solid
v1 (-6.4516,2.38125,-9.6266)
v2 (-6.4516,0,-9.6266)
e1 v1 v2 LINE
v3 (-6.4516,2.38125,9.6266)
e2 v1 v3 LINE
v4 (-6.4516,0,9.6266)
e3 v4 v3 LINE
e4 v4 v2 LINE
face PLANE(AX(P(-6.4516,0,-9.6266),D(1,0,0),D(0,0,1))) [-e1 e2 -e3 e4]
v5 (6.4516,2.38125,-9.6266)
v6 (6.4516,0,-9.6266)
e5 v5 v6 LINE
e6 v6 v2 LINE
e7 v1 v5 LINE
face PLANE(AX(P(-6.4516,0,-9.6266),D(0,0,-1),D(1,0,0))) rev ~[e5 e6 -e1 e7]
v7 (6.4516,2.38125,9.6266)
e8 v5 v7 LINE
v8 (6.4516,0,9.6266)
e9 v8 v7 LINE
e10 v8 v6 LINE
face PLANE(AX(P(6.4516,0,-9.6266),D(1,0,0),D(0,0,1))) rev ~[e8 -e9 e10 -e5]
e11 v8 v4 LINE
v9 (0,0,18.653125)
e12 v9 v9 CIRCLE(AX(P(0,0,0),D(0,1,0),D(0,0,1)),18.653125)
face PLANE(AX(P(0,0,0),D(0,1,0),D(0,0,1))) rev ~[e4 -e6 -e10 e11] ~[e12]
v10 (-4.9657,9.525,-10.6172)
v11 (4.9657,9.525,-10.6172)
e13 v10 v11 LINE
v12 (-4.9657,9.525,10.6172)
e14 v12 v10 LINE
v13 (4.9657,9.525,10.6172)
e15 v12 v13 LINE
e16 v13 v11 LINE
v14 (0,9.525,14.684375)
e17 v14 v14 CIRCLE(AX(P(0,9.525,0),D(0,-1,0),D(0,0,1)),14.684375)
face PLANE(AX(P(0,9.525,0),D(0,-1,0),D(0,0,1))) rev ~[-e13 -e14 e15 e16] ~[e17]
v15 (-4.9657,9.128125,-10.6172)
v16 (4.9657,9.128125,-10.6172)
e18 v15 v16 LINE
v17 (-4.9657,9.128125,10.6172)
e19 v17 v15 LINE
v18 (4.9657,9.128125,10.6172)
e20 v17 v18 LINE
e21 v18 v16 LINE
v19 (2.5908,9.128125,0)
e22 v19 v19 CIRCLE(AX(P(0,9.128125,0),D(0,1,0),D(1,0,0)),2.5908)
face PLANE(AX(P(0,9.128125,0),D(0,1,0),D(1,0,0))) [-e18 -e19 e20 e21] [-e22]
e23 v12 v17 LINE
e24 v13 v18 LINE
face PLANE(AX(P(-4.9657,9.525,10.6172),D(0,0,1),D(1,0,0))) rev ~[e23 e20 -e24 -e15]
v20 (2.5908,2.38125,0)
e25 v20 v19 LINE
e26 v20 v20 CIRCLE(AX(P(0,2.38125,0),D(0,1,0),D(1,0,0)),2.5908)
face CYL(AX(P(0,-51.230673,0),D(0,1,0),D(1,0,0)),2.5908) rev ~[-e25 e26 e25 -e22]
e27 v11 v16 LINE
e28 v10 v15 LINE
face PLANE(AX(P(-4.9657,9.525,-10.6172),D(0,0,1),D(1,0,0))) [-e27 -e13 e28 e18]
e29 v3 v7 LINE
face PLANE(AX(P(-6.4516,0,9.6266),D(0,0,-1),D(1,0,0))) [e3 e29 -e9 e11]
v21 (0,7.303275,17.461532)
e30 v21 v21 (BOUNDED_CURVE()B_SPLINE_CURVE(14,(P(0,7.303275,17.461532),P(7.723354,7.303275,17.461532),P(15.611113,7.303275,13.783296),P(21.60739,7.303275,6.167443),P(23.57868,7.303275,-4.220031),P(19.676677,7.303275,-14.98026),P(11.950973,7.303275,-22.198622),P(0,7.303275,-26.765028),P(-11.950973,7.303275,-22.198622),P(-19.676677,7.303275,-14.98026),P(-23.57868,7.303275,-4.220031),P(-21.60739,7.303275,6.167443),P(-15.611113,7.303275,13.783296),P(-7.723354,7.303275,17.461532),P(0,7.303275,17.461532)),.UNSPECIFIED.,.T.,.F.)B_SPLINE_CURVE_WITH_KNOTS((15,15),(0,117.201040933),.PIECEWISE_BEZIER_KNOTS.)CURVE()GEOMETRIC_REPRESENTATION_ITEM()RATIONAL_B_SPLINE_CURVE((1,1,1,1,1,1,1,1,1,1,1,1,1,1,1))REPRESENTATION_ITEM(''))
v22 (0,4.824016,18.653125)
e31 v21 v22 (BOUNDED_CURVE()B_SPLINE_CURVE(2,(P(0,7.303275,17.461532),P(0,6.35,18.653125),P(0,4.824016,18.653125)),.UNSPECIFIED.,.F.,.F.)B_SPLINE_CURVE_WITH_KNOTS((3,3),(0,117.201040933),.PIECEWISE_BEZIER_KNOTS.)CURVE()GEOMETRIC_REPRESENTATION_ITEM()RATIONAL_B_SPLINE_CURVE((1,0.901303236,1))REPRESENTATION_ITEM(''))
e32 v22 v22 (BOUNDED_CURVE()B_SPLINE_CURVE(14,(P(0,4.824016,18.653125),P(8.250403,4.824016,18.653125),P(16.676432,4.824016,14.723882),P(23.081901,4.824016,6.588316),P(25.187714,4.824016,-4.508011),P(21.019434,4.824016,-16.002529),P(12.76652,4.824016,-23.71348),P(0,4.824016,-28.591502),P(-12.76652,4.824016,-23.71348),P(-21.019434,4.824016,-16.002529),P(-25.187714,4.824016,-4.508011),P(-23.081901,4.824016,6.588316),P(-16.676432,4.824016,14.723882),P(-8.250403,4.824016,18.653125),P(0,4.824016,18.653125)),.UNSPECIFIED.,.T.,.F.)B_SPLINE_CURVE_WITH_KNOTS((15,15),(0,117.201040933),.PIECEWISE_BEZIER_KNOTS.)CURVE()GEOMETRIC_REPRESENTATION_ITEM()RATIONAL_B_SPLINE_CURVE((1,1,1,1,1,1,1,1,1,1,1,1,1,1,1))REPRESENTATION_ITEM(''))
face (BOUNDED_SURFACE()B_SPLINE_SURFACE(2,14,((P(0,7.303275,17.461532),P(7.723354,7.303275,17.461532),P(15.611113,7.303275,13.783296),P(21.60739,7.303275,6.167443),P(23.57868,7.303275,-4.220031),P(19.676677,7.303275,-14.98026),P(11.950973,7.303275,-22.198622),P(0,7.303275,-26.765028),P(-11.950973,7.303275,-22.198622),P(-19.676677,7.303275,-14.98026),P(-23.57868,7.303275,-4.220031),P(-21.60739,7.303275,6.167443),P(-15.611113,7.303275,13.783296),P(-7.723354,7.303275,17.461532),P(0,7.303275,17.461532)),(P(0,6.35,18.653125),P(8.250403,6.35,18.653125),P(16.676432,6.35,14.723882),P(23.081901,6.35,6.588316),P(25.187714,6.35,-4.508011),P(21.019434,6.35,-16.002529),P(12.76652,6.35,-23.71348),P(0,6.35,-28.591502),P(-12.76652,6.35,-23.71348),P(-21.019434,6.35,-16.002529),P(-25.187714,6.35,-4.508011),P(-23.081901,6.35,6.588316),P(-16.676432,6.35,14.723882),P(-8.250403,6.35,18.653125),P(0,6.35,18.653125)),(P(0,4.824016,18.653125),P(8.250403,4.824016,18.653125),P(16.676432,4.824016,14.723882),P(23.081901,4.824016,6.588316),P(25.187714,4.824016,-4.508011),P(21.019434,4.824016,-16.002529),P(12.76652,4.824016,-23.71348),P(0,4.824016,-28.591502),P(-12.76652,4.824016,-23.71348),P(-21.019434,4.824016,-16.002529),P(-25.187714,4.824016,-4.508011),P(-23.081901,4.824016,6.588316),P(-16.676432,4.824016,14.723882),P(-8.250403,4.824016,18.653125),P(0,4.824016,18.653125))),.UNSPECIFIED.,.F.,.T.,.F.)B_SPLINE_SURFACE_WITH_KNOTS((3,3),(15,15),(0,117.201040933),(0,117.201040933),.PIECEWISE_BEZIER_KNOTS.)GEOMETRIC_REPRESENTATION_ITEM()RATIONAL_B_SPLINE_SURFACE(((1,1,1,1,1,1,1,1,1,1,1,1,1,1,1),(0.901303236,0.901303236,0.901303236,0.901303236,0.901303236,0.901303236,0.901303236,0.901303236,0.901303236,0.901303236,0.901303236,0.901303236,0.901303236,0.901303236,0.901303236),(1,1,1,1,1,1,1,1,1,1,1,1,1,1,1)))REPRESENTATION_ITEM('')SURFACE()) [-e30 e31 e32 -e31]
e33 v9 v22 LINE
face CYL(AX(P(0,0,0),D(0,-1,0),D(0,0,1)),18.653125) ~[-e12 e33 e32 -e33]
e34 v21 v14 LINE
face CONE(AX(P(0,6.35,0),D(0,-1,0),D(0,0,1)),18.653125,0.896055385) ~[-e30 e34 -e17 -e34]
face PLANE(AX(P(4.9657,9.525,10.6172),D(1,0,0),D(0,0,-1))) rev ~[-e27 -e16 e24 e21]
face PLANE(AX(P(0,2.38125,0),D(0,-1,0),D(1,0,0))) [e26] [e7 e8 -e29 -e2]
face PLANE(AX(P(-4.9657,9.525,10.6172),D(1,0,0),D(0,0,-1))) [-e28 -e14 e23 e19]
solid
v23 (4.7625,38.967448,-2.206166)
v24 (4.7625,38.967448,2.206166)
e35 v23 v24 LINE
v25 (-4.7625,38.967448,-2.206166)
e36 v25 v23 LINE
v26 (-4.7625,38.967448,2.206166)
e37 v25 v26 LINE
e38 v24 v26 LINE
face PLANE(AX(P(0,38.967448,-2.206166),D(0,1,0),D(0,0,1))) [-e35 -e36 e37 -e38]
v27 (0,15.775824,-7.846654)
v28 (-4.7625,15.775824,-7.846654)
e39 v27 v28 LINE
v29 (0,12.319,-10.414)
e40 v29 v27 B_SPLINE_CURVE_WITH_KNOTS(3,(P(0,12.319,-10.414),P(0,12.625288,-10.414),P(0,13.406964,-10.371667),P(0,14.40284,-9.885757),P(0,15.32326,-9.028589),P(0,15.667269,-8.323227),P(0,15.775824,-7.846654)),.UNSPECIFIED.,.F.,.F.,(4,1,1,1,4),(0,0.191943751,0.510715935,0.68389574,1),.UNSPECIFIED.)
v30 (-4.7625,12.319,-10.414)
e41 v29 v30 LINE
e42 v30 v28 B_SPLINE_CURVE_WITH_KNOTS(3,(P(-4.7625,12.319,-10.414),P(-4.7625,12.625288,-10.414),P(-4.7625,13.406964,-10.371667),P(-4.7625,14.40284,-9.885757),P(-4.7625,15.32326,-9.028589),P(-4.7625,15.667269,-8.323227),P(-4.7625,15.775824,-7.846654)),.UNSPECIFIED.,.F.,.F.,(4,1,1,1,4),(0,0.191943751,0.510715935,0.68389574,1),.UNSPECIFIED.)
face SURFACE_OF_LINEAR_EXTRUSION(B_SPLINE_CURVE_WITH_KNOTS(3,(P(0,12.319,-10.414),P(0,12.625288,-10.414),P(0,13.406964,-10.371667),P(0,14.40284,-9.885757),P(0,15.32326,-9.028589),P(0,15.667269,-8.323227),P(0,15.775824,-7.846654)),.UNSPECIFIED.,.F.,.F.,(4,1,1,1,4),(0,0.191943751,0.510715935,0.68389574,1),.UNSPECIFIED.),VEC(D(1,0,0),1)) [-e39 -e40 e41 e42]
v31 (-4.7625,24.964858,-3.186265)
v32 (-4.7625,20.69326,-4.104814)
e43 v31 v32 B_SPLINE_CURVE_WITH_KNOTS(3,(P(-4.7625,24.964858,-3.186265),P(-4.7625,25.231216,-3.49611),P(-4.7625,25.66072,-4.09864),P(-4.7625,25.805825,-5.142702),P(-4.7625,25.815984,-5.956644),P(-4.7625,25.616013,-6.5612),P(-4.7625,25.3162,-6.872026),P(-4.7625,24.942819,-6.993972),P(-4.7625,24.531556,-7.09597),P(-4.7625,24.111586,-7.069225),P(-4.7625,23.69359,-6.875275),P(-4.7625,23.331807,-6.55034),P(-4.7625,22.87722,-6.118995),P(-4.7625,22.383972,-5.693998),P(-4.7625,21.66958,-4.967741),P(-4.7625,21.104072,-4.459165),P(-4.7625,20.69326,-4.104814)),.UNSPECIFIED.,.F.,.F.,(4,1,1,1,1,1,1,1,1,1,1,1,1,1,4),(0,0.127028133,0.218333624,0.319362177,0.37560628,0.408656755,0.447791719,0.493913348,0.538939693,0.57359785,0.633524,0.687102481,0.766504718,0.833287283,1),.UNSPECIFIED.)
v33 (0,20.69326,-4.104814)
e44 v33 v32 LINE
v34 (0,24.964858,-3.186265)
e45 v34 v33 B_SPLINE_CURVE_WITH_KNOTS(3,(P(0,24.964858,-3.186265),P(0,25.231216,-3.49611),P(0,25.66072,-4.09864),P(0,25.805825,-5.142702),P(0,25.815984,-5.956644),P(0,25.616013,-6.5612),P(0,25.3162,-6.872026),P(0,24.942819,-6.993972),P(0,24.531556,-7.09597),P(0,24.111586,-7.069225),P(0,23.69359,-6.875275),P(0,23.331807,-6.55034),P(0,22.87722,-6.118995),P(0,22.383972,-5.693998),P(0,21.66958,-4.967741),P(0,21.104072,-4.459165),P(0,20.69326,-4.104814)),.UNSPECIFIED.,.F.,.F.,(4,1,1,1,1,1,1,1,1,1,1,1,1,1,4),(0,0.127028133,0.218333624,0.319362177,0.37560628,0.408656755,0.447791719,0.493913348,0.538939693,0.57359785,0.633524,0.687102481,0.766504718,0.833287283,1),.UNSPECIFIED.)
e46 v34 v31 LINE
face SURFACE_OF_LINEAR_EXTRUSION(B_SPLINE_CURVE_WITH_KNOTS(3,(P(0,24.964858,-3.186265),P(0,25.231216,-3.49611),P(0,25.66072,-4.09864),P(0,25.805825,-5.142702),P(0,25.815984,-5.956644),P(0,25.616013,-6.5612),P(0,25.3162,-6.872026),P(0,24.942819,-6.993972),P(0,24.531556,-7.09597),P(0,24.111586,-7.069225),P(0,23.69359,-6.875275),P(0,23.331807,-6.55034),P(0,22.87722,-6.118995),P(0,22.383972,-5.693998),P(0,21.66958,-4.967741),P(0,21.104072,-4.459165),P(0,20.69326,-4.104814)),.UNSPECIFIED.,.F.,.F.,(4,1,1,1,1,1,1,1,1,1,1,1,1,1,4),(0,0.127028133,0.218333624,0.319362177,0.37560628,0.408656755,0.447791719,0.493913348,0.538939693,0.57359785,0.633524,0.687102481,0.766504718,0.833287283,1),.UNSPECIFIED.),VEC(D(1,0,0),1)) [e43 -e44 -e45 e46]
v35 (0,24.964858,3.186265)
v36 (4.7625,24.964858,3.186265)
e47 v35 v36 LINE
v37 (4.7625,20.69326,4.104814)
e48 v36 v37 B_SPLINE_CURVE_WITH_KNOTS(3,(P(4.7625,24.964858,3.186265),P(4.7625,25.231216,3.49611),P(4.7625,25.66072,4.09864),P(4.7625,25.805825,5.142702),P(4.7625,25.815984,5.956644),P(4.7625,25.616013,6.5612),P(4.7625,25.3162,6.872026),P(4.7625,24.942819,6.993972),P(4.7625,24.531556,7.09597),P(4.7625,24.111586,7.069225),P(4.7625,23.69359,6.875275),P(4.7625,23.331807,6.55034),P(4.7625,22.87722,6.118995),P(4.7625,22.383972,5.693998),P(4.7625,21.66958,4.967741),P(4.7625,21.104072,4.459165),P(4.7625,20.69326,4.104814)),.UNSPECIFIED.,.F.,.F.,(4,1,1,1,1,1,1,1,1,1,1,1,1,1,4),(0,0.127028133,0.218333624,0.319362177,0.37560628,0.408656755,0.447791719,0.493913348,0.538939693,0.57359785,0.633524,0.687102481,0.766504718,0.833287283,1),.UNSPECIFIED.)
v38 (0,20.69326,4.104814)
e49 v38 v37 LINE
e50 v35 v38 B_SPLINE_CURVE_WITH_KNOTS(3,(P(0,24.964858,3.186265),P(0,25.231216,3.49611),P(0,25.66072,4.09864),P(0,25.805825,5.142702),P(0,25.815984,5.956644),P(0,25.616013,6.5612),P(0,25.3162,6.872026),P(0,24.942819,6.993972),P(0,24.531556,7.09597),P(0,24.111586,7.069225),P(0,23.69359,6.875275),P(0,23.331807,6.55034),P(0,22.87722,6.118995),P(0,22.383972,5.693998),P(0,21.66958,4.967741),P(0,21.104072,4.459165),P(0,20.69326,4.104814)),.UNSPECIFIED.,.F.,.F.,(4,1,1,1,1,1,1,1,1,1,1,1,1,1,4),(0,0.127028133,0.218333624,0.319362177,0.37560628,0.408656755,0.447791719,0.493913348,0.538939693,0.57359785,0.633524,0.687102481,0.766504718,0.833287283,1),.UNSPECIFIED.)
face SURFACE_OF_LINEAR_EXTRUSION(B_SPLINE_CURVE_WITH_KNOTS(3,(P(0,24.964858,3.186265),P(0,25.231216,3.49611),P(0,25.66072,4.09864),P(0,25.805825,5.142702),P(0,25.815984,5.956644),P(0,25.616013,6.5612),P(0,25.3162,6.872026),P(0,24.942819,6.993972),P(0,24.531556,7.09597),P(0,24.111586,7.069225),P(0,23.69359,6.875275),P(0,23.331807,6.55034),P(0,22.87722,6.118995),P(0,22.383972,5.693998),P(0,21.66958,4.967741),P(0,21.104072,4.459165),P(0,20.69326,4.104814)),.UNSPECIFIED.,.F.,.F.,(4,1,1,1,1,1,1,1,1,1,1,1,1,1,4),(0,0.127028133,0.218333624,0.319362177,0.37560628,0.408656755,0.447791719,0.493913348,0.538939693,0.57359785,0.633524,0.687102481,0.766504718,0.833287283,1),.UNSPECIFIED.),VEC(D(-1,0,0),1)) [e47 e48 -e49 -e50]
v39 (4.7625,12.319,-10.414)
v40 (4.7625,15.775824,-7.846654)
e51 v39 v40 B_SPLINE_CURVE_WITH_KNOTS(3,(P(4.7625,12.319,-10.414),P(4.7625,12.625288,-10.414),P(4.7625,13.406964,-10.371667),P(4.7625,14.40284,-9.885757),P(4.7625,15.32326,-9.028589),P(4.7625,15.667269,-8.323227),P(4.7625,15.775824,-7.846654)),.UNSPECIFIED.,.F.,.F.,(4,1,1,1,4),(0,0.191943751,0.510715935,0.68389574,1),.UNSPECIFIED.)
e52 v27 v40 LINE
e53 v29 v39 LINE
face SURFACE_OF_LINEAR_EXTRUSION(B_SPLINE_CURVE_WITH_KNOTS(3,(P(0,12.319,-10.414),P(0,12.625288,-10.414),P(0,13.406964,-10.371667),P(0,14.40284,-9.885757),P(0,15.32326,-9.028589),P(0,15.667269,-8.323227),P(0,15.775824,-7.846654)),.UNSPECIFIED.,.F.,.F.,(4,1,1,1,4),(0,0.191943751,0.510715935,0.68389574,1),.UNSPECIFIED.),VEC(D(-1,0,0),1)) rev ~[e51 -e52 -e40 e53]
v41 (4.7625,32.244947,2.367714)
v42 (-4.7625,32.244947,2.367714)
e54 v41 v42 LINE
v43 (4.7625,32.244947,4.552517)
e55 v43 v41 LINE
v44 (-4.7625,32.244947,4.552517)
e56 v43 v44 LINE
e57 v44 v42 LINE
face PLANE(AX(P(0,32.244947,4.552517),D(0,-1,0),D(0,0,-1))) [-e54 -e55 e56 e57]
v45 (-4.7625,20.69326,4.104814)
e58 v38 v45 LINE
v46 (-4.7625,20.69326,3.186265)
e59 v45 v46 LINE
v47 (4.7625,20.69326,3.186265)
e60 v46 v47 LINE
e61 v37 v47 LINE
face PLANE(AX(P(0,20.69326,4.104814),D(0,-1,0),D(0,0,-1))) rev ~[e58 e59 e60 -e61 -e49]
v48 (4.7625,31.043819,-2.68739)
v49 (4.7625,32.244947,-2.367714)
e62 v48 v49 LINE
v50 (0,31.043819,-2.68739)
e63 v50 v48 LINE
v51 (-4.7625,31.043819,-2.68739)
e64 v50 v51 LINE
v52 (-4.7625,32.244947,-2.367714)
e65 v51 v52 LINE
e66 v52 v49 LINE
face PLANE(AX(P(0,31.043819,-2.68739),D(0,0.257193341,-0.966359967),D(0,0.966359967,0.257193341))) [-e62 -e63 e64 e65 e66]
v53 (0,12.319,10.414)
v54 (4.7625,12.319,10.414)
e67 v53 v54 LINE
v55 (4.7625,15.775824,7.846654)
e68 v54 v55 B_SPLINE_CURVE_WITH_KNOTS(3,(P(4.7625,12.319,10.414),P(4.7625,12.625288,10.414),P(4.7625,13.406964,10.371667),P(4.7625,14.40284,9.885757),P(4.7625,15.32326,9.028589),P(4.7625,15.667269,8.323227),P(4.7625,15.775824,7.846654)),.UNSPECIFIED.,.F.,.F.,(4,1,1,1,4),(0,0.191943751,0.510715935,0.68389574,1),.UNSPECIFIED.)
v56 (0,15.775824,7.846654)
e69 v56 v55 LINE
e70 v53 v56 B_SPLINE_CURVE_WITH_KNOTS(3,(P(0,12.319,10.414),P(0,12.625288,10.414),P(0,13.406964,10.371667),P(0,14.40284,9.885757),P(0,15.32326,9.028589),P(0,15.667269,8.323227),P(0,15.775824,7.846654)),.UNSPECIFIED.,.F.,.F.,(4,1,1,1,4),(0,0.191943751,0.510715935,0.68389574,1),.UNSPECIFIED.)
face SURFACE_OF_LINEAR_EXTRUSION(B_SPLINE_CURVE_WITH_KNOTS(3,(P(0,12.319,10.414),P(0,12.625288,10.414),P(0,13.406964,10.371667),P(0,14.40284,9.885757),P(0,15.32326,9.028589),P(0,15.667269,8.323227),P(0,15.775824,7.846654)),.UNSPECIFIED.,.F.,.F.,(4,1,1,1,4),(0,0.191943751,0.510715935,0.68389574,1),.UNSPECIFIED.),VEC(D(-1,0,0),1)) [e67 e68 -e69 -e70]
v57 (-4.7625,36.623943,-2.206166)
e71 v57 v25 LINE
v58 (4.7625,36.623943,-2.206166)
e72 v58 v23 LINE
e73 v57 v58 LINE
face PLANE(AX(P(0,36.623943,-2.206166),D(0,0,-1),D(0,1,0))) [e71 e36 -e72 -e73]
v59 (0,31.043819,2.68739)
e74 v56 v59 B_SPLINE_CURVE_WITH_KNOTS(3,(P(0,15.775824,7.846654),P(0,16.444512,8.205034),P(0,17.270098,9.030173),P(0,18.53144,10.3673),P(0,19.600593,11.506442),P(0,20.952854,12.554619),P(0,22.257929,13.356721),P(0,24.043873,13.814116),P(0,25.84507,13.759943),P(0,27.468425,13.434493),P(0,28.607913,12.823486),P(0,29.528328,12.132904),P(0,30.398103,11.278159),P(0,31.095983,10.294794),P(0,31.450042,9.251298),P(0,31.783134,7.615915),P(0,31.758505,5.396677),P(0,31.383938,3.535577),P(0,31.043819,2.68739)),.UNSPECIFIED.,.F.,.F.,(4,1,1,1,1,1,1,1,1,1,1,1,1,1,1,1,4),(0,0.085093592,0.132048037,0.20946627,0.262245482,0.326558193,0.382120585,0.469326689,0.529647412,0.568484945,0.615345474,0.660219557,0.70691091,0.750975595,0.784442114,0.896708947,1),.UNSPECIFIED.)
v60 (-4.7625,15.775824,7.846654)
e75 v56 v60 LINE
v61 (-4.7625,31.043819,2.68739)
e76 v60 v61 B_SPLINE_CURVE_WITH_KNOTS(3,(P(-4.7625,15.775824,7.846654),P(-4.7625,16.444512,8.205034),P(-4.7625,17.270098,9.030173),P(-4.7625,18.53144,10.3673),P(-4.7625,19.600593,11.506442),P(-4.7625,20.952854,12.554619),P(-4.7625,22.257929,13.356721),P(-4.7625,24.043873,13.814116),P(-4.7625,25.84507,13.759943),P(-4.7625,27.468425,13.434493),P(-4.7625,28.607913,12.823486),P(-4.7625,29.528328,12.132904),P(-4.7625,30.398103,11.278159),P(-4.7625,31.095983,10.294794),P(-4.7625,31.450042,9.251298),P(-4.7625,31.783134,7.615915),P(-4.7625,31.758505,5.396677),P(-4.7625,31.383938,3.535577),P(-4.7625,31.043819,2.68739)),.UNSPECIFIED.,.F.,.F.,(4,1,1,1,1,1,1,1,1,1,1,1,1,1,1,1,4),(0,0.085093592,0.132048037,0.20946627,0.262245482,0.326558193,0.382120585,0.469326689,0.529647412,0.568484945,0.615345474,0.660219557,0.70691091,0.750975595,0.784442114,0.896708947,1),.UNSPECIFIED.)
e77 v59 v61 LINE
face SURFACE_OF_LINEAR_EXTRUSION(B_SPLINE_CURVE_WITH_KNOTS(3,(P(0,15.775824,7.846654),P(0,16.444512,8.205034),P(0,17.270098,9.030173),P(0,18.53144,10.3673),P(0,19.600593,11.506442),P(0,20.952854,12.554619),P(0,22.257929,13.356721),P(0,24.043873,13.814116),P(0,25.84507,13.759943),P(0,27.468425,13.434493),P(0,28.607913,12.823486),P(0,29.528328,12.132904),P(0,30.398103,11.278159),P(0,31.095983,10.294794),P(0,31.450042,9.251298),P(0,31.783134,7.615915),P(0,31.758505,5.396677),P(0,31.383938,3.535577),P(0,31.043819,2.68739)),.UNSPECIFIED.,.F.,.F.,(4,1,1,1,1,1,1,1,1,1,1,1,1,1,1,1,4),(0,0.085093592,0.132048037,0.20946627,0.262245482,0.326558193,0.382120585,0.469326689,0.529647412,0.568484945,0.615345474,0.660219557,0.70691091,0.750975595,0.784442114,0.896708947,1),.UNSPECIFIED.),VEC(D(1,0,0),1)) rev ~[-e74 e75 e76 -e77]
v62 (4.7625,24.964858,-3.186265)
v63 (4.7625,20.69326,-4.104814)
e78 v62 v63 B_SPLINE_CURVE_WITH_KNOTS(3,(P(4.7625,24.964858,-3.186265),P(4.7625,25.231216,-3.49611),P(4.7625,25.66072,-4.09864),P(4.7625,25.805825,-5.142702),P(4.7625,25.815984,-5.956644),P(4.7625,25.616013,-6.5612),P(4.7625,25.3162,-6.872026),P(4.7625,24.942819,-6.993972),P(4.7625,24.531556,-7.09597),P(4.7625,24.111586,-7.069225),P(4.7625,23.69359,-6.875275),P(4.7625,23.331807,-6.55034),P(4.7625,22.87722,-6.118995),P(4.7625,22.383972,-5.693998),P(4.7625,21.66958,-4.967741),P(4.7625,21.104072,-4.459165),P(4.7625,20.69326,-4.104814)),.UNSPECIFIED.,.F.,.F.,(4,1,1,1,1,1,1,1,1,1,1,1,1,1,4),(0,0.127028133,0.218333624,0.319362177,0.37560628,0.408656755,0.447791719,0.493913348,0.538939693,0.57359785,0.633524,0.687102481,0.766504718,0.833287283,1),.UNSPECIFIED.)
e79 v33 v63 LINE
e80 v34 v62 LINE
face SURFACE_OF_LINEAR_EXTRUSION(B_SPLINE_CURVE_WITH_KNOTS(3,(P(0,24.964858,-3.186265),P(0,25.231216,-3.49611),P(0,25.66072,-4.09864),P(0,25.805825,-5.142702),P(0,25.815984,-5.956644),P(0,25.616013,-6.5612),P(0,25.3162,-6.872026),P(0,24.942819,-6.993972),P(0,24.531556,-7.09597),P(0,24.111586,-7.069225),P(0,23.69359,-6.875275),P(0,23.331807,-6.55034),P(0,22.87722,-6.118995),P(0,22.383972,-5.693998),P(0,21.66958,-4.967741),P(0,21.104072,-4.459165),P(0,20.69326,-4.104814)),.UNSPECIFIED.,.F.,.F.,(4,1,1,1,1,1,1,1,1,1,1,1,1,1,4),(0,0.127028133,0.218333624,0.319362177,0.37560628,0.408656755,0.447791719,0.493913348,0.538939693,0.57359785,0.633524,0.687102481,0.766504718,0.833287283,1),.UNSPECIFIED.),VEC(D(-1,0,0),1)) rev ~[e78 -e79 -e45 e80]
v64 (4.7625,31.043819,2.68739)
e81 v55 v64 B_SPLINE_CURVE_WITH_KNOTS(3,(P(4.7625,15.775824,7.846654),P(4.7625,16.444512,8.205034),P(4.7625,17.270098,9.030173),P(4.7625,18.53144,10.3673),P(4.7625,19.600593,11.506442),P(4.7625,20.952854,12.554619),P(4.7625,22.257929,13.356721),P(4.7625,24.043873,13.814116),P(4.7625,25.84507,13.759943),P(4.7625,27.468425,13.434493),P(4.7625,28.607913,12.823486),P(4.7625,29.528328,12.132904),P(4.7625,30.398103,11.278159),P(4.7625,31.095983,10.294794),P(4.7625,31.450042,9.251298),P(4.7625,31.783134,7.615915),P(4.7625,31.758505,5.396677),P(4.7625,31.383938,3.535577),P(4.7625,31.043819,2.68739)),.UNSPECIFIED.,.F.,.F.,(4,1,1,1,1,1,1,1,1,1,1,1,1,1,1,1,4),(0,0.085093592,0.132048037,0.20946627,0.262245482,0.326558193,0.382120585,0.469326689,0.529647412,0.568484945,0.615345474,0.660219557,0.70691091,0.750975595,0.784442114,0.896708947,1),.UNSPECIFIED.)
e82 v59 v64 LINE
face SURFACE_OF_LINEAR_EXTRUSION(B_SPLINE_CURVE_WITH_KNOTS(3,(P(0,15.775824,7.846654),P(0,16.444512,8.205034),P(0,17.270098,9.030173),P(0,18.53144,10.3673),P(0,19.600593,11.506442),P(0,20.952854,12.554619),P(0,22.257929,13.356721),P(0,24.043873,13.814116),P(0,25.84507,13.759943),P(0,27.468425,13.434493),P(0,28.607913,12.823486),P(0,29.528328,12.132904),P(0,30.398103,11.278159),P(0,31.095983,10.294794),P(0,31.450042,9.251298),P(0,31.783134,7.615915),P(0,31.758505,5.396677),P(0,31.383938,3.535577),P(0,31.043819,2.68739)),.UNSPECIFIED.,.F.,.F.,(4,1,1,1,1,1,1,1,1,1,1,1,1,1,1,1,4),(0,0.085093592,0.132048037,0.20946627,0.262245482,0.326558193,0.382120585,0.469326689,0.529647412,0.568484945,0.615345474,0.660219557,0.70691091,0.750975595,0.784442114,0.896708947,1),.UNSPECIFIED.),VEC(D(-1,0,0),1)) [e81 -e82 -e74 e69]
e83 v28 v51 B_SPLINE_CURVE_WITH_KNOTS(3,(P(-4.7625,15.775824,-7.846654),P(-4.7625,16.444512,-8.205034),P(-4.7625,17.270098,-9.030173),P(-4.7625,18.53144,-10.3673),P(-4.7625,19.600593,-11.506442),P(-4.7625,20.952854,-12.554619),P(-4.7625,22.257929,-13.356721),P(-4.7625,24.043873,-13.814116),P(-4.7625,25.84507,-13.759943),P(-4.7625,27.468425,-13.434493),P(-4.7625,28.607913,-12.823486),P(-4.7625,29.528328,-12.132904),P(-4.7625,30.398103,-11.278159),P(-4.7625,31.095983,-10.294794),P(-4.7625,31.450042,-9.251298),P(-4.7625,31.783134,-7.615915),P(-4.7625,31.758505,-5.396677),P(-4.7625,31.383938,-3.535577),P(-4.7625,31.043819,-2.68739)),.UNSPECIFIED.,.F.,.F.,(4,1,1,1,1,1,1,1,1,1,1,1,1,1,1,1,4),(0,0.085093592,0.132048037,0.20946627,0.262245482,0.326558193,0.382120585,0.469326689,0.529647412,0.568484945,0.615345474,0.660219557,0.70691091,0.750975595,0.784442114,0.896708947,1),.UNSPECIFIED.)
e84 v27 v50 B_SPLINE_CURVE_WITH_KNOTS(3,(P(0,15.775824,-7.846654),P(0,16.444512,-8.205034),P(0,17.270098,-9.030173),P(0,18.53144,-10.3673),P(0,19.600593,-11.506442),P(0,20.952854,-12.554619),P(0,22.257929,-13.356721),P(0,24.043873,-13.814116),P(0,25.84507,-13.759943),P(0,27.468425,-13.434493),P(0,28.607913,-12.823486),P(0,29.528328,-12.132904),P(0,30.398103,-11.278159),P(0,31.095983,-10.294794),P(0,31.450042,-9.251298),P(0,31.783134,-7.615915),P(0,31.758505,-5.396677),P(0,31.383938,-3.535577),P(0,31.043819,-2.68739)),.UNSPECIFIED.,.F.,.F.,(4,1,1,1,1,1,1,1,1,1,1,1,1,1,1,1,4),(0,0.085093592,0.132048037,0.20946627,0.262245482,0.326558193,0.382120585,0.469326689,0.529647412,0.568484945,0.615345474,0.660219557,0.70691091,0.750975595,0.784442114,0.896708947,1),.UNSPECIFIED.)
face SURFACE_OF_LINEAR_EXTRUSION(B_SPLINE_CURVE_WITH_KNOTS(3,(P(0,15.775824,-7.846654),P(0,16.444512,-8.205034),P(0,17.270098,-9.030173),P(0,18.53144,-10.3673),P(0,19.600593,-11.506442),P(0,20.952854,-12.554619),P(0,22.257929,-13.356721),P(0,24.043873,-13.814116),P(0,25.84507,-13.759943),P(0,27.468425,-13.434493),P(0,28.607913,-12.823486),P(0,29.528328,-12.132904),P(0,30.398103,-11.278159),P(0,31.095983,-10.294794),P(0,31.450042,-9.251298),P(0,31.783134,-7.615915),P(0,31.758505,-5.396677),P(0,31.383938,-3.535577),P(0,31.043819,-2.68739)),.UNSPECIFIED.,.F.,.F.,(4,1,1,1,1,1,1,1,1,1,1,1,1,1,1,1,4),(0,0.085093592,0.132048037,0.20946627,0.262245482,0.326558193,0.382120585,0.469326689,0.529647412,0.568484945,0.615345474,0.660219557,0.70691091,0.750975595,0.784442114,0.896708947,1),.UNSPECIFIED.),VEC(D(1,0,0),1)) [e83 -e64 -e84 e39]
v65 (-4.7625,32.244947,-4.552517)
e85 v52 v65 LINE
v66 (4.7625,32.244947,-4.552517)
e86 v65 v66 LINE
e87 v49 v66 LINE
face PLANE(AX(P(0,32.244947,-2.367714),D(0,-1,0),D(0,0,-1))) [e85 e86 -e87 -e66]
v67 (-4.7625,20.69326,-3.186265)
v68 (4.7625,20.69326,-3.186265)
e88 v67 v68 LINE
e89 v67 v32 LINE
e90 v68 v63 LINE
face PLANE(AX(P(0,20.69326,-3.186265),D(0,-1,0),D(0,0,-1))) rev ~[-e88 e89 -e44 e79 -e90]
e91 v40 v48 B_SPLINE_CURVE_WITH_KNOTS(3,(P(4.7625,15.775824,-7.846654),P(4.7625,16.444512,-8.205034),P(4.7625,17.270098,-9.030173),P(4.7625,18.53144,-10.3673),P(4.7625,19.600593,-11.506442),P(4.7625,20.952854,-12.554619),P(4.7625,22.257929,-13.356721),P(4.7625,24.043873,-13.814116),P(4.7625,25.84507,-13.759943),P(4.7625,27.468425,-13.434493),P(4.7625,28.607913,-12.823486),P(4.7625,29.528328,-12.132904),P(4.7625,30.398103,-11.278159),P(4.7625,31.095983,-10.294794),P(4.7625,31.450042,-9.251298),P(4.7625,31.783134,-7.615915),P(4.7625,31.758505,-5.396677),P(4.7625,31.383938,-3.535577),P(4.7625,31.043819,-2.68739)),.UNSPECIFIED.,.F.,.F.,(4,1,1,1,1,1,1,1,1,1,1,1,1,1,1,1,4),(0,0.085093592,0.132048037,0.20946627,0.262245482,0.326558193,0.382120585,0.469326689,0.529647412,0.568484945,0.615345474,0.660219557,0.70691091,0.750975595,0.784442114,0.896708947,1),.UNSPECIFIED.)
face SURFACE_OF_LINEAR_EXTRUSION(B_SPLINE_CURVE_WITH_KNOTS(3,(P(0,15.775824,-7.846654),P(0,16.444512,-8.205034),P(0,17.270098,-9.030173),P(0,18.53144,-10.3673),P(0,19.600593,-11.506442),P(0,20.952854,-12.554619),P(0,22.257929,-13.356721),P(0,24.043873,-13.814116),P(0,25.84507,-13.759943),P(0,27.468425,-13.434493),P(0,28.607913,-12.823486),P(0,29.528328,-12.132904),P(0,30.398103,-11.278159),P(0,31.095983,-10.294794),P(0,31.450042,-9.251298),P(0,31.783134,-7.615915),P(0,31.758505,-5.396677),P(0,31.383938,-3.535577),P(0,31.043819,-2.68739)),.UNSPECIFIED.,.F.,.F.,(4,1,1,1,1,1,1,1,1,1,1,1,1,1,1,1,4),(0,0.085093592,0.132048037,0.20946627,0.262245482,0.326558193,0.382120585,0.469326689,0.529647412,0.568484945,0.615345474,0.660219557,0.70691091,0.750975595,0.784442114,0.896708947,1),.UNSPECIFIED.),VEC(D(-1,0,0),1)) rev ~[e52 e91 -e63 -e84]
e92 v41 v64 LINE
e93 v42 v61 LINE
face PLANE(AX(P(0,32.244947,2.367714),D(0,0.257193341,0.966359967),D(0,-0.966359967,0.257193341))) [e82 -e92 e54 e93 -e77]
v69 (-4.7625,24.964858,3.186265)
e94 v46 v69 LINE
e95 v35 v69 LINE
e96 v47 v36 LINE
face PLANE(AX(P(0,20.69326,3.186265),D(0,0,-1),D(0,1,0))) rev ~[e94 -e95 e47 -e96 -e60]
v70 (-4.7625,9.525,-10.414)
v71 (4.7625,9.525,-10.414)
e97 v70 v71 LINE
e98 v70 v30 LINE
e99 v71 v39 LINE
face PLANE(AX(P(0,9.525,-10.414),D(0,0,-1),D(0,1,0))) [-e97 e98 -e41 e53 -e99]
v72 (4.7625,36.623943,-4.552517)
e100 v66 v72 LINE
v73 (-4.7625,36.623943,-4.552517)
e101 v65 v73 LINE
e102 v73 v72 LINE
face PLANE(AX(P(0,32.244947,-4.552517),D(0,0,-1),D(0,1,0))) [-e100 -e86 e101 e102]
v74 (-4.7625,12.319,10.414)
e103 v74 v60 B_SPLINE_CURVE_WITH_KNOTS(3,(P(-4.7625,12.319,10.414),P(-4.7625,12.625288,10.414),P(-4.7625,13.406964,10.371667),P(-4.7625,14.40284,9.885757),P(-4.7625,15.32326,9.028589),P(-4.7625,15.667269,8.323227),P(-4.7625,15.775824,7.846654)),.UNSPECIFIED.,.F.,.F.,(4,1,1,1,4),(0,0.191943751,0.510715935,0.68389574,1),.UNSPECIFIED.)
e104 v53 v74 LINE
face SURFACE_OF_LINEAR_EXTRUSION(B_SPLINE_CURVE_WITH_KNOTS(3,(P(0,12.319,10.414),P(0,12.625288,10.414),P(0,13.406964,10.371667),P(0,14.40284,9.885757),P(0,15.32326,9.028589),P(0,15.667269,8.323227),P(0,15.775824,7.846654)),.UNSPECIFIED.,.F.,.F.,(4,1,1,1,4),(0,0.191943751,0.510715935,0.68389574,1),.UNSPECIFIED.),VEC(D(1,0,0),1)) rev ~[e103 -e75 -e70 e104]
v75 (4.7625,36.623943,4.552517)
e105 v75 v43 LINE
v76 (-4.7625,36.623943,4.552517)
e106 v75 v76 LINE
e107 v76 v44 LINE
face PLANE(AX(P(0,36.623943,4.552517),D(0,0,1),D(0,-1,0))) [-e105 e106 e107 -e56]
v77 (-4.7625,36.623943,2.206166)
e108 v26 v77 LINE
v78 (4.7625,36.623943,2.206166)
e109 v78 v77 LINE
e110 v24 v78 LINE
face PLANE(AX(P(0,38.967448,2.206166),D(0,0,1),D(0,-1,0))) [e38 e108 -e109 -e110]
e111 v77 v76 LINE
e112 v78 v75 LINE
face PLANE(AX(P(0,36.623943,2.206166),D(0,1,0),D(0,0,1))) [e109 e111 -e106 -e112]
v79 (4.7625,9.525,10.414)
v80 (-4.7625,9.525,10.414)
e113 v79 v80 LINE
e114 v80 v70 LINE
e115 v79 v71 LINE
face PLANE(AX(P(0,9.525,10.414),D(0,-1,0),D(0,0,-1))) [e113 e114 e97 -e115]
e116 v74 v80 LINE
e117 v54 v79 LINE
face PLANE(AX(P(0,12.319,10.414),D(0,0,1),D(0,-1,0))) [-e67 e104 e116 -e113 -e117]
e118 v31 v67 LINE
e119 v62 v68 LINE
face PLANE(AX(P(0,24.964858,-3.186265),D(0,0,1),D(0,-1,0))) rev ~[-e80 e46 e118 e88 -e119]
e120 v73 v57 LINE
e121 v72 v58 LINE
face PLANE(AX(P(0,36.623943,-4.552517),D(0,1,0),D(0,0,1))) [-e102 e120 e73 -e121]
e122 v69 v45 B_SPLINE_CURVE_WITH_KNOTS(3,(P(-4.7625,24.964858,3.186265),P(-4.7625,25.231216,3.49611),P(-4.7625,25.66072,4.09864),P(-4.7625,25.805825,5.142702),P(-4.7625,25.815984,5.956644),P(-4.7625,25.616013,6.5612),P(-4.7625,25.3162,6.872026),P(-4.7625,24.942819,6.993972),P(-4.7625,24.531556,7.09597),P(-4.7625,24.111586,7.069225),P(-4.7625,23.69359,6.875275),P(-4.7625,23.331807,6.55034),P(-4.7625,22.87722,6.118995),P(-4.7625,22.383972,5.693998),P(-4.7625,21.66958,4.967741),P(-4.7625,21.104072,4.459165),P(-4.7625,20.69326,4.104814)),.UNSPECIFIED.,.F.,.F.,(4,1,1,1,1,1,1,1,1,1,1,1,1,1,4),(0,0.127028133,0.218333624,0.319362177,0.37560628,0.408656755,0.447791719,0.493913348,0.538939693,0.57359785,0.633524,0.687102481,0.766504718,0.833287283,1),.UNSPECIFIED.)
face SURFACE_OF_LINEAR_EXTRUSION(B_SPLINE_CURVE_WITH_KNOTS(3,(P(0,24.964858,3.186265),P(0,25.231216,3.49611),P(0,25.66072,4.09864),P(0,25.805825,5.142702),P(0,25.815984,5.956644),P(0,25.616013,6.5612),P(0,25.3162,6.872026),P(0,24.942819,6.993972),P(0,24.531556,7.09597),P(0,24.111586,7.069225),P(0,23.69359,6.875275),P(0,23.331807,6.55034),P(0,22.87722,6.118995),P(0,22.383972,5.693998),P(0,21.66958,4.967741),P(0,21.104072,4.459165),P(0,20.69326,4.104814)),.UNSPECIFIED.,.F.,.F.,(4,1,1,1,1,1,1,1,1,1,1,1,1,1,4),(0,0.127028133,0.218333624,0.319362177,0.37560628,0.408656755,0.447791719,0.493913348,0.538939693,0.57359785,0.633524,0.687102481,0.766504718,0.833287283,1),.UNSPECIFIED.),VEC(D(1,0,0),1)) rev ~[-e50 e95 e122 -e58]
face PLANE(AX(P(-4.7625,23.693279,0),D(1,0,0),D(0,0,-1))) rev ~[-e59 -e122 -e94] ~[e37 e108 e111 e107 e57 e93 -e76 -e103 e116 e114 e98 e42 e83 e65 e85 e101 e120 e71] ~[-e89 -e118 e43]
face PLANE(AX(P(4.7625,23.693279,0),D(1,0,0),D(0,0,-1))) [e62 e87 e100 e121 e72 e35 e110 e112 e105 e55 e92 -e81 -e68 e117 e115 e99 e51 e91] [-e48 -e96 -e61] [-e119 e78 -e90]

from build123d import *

# Parameters (mm, degrees)
SKETCH1_R                  = 18.653125
BOSS_EXTRUDE1_DEPTH        = 6.35
FILLET1_R                  = 3.175
SKETCH3_W                  = 12.9032
SKETCH3_H                  = 19.2532
CUT_EXTRUDE1_DEPTH         = 2.38125
F_6_0_204_DIAMETER_HOLE1_D = 5.1816
BOSS_EXTRUDE2_DEPTH        = 4.7625
SKETCH7_W                  = 9.9314
SKETCH7_H                  = 21.2344
CUT_EXTRUDE2_DEPTH         = 0.396875


with BuildPart() as part:
    # Sketch1 → Boss-Extrude1 (new body)
    with BuildSketch(Plane(origin=(0, 0, 0), x_dir=(1, 0, 0), z_dir=(0, 1, 0))):
        with Locations(Location((0, 0, 0), (0, 0, 270))):
            Circle(SKETCH1_R)
    extrude(amount=BOSS_EXTRUDE1_DEPTH)

    # Sketch2 → Revolve1 (revolve)
    with BuildSketch(Plane.XY, mode=Mode.PRIVATE) as revolve1_sk:
        Polygon((-18.653125, 6.35), (-14.684375, 9.525), (0, 9.525), (0, 6.35), align=None)
    revolve(revolve1_sk.sketch.rotate(Axis((0, 9.525, 0), (0, -1, 0)), 270), axis=Axis((0, 9.525, 0), (0, -1, 0)))

    # Fillet1
    fillet1_edges = [part.edges().sort_by_distance(p)[0] for p in [
        (0, 6.35, -18.653125),
    ]]
    fillet(fillet1_edges, radius=FILLET1_R)

    # Sketch3 → Cut-Extrude1 (cut, symmetric)
    with BuildSketch(Plane.XZ):
        Rectangle(SKETCH3_W, SKETCH3_H)
    extrude(amount=CUT_EXTRUDE1_DEPTH, both=True, mode=Mode.SUBTRACT)

    # #6 (0.204) Diameter Hole1 (through all)
    with Locations(Plane(origin=(0, 2.38125, 0), x_dir=(-1, 0, 0), z_dir=(0, -1, 0))):
        with Locations((0, 0)):
            Hole(F_6_0_204_DIAMETER_HOLE1_D / 2)

    # Sketch7 → Cut-Extrude2 (cut)
    with BuildSketch(Plane(origin=(0, 9.525, 0), x_dir=(1, 0, 0), z_dir=(0, 1, 0))):
        Rectangle(SKETCH7_W, SKETCH7_H)
    extrude(amount=-CUT_EXTRUDE2_DEPTH, mode=Mode.SUBTRACT)


with BuildPart() as body_2:
    # Sketch6 → Boss-Extrude2 (new, symmetric)
    with BuildSketch(Plane(origin=(0, 0, 0), x_dir=(0, 0, -1), z_dir=(1, 0, 0))):
        with BuildLine():
            Line((-10.414, 9.525), (10.414, 9.525))
            Line((10.414, 9.525), (10.414, 12.319))
            add(Edge.make_bspline(
                [(10.414, 12.319), (10.414, 12.625287573), (10.371667369, 13.406964275), (9.885757454, 14.402839912), (9.028588556, 15.323260467), (8.323227211, 15.667269394), (7.846654217, 15.775823925)],
                knots=[0, 0, 0, 0, 0.191943751, 0.510715935, 0.68389574, 1, 1, 1, 1], degree=3))
            add(Edge.make_bspline(
                [(7.846654217, 15.775823925), (8.205033548, 16.4445123), (9.030173215, 17.270097895), (10.367300223, 18.531439576), (11.506441863, 19.600593274), (12.554618766, 20.952853725), (13.356720714, 22.257928697), (13.814116346, 24.043872705), (13.759942749, 25.845069503), (13.434492623, 27.468424658), (12.823485642, 28.607913269), (12.132904298, 29.528328448), (11.278159238, 30.398102844), (10.294793743, 31.09598337), (9.251297565, 31.450042035), (7.615915473, 31.783134316), (5.396677236, 31.758505405), (3.535577292, 31.383938111), (2.687389519, 31.043818914)],
                knots=[0, 0, 0, 0, 0.085093592, 0.132048037, 0.20946627, 0.262245482, 0.326558193, 0.382120585, 0.469326689, 0.529647412, 0.568484945, 0.615345474, 0.660219557, 0.70691091, 0.750975595, 0.784442114, 0.896708947, 1, 1, 1, 1], degree=3))
            Line((2.687389519, 31.043818914), (2.367713572, 32.24494658))
            Line((2.367713572, 32.24494658), (4.552516721, 32.24494658))
            Line((4.552516721, 32.24494658), (4.552516721, 36.623942991))
            Line((4.552516721, 36.623942991), (2.206165697, 36.623942991))
            Line((2.206165697, 36.623942991), (2.206165697, 38.967448341))
            Line((2.206165697, 38.967448341), (-2.206165697, 38.967448341))
            Line((-2.206165697, 38.967448341), (-2.206165697, 36.623942991))
            Line((-2.206165697, 36.623942991), (-4.552516721, 36.623942991))
            Line((-4.552516721, 36.623942991), (-4.552516721, 32.24494658))
            Line((-4.552516721, 32.24494658), (-2.367713572, 32.24494658))
            Line((-2.367713572, 32.24494658), (-2.687389519, 31.043818914))
            add(Edge.make_bspline(
                [(-7.846654217, 15.775823925), (-8.205033548, 16.4445123), (-9.030173215, 17.270097895), (-10.367300223, 18.531439576), (-11.506441863, 19.600593274), (-12.554618766, 20.952853725), (-13.356720714, 22.257928697), (-13.814116346, 24.043872705), (-13.759942749, 25.845069503), (-13.434492623, 27.468424658), (-12.823485642, 28.607913269), (-12.132904298, 29.528328448), (-11.278159238, 30.398102844), (-10.294793743, 31.09598337), (-9.251297565, 31.450042035), (-7.615915473, 31.783134316), (-5.396677236, 31.758505405), (-3.535577292, 31.383938111), (-2.687389519, 31.043818914)],
                knots=[0, 0, 0, 0, 0.085093592, 0.132048037, 0.20946627, 0.262245482, 0.326558193, 0.382120585, 0.469326689, 0.529647412, 0.568484945, 0.615345474, 0.660219557, 0.70691091, 0.750975595, 0.784442114, 0.896708947, 1, 1, 1, 1], degree=3))
            add(Edge.make_bspline(
                [(-10.414, 12.319), (-10.414, 12.625287573), (-10.371667369, 13.406964275), (-9.885757454, 14.402839912), (-9.028588556, 15.323260467), (-8.323227211, 15.667269394), (-7.846654217, 15.775823925)],
                knots=[0, 0, 0, 0, 0.191943751, 0.510715935, 0.68389574, 1, 1, 1, 1], degree=3))
            Line((-10.414, 12.319), (-10.414, 9.525))
        make_face()
        with BuildLine():
            Line((-3.186264633, 20.693260232), (-3.186264633, 24.964857672))
            add(Edge.make_bspline(
                [(-3.186264633, 24.964857672), (-3.496110079, 25.231215789), (-4.098640049, 25.660720042), (-5.142701618, 25.805824845), (-5.956644147, 25.815984428), (-6.561200449, 25.616012815), (-6.872026059, 25.316200381), (-6.993972235, 24.942819361), (-7.09597015, 24.531556258), (-7.069224778, 24.111586077), (-6.875274819, 23.69358972), (-6.55034022, 23.331807132), (-6.118995079, 22.877220224), (-5.693998337, 22.383971695), (-4.967740692, 21.669579588), (-4.459164569, 21.104071975), (-4.104813592, 20.693260232)],
                knots=[0, 0, 0, 0, 0.127028133, 0.218333624, 0.319362177, 0.37560628, 0.408656755, 0.447791719, 0.493913348, 0.538939693, 0.57359785, 0.633524, 0.687102481, 0.766504718, 0.833287283, 1, 1, 1, 1], degree=3))
            Line((-4.104813592, 20.693260232), (-3.186264633, 20.693260232))
        make_face(mode=Mode.SUBTRACT)
        with BuildLine():
            Line((3.186264633, 20.693260232), (4.104813592, 20.693260232))
            add(Edge.make_bspline(
                [(3.186264633, 24.964857672), (3.496110079, 25.231215789), (4.098640049, 25.660720042), (5.142701618, 25.805824845), (5.956644147, 25.815984428), (6.561200449, 25.616012815), (6.872026059, 25.316200381), (6.993972235, 24.942819361), (7.09597015, 24.531556258), (7.069224778, 24.111586077), (6.875274819, 23.69358972), (6.55034022, 23.331807132), (6.118995079, 22.877220224), (5.693998337, 22.383971695), (4.967740692, 21.669579588), (4.459164569, 21.104071975), (4.104813592, 20.693260232)],
                knots=[0, 0, 0, 0, 0.127028133, 0.218333624, 0.319362177, 0.37560628, 0.408656755, 0.447791719, 0.493913348, 0.538939693, 0.57359785, 0.633524, 0.687102481, 0.766504718, 0.833287283, 1, 1, 1, 1], degree=3))
            Line((3.186264633, 24.964857672), (3.186264633, 20.693260232))
        make_face(mode=Mode.SUBTRACT)
    extrude(amount=BOSS_EXTRUDE2_DEPTH, both=True)


solid = Compound([part.part, body_2.part])
